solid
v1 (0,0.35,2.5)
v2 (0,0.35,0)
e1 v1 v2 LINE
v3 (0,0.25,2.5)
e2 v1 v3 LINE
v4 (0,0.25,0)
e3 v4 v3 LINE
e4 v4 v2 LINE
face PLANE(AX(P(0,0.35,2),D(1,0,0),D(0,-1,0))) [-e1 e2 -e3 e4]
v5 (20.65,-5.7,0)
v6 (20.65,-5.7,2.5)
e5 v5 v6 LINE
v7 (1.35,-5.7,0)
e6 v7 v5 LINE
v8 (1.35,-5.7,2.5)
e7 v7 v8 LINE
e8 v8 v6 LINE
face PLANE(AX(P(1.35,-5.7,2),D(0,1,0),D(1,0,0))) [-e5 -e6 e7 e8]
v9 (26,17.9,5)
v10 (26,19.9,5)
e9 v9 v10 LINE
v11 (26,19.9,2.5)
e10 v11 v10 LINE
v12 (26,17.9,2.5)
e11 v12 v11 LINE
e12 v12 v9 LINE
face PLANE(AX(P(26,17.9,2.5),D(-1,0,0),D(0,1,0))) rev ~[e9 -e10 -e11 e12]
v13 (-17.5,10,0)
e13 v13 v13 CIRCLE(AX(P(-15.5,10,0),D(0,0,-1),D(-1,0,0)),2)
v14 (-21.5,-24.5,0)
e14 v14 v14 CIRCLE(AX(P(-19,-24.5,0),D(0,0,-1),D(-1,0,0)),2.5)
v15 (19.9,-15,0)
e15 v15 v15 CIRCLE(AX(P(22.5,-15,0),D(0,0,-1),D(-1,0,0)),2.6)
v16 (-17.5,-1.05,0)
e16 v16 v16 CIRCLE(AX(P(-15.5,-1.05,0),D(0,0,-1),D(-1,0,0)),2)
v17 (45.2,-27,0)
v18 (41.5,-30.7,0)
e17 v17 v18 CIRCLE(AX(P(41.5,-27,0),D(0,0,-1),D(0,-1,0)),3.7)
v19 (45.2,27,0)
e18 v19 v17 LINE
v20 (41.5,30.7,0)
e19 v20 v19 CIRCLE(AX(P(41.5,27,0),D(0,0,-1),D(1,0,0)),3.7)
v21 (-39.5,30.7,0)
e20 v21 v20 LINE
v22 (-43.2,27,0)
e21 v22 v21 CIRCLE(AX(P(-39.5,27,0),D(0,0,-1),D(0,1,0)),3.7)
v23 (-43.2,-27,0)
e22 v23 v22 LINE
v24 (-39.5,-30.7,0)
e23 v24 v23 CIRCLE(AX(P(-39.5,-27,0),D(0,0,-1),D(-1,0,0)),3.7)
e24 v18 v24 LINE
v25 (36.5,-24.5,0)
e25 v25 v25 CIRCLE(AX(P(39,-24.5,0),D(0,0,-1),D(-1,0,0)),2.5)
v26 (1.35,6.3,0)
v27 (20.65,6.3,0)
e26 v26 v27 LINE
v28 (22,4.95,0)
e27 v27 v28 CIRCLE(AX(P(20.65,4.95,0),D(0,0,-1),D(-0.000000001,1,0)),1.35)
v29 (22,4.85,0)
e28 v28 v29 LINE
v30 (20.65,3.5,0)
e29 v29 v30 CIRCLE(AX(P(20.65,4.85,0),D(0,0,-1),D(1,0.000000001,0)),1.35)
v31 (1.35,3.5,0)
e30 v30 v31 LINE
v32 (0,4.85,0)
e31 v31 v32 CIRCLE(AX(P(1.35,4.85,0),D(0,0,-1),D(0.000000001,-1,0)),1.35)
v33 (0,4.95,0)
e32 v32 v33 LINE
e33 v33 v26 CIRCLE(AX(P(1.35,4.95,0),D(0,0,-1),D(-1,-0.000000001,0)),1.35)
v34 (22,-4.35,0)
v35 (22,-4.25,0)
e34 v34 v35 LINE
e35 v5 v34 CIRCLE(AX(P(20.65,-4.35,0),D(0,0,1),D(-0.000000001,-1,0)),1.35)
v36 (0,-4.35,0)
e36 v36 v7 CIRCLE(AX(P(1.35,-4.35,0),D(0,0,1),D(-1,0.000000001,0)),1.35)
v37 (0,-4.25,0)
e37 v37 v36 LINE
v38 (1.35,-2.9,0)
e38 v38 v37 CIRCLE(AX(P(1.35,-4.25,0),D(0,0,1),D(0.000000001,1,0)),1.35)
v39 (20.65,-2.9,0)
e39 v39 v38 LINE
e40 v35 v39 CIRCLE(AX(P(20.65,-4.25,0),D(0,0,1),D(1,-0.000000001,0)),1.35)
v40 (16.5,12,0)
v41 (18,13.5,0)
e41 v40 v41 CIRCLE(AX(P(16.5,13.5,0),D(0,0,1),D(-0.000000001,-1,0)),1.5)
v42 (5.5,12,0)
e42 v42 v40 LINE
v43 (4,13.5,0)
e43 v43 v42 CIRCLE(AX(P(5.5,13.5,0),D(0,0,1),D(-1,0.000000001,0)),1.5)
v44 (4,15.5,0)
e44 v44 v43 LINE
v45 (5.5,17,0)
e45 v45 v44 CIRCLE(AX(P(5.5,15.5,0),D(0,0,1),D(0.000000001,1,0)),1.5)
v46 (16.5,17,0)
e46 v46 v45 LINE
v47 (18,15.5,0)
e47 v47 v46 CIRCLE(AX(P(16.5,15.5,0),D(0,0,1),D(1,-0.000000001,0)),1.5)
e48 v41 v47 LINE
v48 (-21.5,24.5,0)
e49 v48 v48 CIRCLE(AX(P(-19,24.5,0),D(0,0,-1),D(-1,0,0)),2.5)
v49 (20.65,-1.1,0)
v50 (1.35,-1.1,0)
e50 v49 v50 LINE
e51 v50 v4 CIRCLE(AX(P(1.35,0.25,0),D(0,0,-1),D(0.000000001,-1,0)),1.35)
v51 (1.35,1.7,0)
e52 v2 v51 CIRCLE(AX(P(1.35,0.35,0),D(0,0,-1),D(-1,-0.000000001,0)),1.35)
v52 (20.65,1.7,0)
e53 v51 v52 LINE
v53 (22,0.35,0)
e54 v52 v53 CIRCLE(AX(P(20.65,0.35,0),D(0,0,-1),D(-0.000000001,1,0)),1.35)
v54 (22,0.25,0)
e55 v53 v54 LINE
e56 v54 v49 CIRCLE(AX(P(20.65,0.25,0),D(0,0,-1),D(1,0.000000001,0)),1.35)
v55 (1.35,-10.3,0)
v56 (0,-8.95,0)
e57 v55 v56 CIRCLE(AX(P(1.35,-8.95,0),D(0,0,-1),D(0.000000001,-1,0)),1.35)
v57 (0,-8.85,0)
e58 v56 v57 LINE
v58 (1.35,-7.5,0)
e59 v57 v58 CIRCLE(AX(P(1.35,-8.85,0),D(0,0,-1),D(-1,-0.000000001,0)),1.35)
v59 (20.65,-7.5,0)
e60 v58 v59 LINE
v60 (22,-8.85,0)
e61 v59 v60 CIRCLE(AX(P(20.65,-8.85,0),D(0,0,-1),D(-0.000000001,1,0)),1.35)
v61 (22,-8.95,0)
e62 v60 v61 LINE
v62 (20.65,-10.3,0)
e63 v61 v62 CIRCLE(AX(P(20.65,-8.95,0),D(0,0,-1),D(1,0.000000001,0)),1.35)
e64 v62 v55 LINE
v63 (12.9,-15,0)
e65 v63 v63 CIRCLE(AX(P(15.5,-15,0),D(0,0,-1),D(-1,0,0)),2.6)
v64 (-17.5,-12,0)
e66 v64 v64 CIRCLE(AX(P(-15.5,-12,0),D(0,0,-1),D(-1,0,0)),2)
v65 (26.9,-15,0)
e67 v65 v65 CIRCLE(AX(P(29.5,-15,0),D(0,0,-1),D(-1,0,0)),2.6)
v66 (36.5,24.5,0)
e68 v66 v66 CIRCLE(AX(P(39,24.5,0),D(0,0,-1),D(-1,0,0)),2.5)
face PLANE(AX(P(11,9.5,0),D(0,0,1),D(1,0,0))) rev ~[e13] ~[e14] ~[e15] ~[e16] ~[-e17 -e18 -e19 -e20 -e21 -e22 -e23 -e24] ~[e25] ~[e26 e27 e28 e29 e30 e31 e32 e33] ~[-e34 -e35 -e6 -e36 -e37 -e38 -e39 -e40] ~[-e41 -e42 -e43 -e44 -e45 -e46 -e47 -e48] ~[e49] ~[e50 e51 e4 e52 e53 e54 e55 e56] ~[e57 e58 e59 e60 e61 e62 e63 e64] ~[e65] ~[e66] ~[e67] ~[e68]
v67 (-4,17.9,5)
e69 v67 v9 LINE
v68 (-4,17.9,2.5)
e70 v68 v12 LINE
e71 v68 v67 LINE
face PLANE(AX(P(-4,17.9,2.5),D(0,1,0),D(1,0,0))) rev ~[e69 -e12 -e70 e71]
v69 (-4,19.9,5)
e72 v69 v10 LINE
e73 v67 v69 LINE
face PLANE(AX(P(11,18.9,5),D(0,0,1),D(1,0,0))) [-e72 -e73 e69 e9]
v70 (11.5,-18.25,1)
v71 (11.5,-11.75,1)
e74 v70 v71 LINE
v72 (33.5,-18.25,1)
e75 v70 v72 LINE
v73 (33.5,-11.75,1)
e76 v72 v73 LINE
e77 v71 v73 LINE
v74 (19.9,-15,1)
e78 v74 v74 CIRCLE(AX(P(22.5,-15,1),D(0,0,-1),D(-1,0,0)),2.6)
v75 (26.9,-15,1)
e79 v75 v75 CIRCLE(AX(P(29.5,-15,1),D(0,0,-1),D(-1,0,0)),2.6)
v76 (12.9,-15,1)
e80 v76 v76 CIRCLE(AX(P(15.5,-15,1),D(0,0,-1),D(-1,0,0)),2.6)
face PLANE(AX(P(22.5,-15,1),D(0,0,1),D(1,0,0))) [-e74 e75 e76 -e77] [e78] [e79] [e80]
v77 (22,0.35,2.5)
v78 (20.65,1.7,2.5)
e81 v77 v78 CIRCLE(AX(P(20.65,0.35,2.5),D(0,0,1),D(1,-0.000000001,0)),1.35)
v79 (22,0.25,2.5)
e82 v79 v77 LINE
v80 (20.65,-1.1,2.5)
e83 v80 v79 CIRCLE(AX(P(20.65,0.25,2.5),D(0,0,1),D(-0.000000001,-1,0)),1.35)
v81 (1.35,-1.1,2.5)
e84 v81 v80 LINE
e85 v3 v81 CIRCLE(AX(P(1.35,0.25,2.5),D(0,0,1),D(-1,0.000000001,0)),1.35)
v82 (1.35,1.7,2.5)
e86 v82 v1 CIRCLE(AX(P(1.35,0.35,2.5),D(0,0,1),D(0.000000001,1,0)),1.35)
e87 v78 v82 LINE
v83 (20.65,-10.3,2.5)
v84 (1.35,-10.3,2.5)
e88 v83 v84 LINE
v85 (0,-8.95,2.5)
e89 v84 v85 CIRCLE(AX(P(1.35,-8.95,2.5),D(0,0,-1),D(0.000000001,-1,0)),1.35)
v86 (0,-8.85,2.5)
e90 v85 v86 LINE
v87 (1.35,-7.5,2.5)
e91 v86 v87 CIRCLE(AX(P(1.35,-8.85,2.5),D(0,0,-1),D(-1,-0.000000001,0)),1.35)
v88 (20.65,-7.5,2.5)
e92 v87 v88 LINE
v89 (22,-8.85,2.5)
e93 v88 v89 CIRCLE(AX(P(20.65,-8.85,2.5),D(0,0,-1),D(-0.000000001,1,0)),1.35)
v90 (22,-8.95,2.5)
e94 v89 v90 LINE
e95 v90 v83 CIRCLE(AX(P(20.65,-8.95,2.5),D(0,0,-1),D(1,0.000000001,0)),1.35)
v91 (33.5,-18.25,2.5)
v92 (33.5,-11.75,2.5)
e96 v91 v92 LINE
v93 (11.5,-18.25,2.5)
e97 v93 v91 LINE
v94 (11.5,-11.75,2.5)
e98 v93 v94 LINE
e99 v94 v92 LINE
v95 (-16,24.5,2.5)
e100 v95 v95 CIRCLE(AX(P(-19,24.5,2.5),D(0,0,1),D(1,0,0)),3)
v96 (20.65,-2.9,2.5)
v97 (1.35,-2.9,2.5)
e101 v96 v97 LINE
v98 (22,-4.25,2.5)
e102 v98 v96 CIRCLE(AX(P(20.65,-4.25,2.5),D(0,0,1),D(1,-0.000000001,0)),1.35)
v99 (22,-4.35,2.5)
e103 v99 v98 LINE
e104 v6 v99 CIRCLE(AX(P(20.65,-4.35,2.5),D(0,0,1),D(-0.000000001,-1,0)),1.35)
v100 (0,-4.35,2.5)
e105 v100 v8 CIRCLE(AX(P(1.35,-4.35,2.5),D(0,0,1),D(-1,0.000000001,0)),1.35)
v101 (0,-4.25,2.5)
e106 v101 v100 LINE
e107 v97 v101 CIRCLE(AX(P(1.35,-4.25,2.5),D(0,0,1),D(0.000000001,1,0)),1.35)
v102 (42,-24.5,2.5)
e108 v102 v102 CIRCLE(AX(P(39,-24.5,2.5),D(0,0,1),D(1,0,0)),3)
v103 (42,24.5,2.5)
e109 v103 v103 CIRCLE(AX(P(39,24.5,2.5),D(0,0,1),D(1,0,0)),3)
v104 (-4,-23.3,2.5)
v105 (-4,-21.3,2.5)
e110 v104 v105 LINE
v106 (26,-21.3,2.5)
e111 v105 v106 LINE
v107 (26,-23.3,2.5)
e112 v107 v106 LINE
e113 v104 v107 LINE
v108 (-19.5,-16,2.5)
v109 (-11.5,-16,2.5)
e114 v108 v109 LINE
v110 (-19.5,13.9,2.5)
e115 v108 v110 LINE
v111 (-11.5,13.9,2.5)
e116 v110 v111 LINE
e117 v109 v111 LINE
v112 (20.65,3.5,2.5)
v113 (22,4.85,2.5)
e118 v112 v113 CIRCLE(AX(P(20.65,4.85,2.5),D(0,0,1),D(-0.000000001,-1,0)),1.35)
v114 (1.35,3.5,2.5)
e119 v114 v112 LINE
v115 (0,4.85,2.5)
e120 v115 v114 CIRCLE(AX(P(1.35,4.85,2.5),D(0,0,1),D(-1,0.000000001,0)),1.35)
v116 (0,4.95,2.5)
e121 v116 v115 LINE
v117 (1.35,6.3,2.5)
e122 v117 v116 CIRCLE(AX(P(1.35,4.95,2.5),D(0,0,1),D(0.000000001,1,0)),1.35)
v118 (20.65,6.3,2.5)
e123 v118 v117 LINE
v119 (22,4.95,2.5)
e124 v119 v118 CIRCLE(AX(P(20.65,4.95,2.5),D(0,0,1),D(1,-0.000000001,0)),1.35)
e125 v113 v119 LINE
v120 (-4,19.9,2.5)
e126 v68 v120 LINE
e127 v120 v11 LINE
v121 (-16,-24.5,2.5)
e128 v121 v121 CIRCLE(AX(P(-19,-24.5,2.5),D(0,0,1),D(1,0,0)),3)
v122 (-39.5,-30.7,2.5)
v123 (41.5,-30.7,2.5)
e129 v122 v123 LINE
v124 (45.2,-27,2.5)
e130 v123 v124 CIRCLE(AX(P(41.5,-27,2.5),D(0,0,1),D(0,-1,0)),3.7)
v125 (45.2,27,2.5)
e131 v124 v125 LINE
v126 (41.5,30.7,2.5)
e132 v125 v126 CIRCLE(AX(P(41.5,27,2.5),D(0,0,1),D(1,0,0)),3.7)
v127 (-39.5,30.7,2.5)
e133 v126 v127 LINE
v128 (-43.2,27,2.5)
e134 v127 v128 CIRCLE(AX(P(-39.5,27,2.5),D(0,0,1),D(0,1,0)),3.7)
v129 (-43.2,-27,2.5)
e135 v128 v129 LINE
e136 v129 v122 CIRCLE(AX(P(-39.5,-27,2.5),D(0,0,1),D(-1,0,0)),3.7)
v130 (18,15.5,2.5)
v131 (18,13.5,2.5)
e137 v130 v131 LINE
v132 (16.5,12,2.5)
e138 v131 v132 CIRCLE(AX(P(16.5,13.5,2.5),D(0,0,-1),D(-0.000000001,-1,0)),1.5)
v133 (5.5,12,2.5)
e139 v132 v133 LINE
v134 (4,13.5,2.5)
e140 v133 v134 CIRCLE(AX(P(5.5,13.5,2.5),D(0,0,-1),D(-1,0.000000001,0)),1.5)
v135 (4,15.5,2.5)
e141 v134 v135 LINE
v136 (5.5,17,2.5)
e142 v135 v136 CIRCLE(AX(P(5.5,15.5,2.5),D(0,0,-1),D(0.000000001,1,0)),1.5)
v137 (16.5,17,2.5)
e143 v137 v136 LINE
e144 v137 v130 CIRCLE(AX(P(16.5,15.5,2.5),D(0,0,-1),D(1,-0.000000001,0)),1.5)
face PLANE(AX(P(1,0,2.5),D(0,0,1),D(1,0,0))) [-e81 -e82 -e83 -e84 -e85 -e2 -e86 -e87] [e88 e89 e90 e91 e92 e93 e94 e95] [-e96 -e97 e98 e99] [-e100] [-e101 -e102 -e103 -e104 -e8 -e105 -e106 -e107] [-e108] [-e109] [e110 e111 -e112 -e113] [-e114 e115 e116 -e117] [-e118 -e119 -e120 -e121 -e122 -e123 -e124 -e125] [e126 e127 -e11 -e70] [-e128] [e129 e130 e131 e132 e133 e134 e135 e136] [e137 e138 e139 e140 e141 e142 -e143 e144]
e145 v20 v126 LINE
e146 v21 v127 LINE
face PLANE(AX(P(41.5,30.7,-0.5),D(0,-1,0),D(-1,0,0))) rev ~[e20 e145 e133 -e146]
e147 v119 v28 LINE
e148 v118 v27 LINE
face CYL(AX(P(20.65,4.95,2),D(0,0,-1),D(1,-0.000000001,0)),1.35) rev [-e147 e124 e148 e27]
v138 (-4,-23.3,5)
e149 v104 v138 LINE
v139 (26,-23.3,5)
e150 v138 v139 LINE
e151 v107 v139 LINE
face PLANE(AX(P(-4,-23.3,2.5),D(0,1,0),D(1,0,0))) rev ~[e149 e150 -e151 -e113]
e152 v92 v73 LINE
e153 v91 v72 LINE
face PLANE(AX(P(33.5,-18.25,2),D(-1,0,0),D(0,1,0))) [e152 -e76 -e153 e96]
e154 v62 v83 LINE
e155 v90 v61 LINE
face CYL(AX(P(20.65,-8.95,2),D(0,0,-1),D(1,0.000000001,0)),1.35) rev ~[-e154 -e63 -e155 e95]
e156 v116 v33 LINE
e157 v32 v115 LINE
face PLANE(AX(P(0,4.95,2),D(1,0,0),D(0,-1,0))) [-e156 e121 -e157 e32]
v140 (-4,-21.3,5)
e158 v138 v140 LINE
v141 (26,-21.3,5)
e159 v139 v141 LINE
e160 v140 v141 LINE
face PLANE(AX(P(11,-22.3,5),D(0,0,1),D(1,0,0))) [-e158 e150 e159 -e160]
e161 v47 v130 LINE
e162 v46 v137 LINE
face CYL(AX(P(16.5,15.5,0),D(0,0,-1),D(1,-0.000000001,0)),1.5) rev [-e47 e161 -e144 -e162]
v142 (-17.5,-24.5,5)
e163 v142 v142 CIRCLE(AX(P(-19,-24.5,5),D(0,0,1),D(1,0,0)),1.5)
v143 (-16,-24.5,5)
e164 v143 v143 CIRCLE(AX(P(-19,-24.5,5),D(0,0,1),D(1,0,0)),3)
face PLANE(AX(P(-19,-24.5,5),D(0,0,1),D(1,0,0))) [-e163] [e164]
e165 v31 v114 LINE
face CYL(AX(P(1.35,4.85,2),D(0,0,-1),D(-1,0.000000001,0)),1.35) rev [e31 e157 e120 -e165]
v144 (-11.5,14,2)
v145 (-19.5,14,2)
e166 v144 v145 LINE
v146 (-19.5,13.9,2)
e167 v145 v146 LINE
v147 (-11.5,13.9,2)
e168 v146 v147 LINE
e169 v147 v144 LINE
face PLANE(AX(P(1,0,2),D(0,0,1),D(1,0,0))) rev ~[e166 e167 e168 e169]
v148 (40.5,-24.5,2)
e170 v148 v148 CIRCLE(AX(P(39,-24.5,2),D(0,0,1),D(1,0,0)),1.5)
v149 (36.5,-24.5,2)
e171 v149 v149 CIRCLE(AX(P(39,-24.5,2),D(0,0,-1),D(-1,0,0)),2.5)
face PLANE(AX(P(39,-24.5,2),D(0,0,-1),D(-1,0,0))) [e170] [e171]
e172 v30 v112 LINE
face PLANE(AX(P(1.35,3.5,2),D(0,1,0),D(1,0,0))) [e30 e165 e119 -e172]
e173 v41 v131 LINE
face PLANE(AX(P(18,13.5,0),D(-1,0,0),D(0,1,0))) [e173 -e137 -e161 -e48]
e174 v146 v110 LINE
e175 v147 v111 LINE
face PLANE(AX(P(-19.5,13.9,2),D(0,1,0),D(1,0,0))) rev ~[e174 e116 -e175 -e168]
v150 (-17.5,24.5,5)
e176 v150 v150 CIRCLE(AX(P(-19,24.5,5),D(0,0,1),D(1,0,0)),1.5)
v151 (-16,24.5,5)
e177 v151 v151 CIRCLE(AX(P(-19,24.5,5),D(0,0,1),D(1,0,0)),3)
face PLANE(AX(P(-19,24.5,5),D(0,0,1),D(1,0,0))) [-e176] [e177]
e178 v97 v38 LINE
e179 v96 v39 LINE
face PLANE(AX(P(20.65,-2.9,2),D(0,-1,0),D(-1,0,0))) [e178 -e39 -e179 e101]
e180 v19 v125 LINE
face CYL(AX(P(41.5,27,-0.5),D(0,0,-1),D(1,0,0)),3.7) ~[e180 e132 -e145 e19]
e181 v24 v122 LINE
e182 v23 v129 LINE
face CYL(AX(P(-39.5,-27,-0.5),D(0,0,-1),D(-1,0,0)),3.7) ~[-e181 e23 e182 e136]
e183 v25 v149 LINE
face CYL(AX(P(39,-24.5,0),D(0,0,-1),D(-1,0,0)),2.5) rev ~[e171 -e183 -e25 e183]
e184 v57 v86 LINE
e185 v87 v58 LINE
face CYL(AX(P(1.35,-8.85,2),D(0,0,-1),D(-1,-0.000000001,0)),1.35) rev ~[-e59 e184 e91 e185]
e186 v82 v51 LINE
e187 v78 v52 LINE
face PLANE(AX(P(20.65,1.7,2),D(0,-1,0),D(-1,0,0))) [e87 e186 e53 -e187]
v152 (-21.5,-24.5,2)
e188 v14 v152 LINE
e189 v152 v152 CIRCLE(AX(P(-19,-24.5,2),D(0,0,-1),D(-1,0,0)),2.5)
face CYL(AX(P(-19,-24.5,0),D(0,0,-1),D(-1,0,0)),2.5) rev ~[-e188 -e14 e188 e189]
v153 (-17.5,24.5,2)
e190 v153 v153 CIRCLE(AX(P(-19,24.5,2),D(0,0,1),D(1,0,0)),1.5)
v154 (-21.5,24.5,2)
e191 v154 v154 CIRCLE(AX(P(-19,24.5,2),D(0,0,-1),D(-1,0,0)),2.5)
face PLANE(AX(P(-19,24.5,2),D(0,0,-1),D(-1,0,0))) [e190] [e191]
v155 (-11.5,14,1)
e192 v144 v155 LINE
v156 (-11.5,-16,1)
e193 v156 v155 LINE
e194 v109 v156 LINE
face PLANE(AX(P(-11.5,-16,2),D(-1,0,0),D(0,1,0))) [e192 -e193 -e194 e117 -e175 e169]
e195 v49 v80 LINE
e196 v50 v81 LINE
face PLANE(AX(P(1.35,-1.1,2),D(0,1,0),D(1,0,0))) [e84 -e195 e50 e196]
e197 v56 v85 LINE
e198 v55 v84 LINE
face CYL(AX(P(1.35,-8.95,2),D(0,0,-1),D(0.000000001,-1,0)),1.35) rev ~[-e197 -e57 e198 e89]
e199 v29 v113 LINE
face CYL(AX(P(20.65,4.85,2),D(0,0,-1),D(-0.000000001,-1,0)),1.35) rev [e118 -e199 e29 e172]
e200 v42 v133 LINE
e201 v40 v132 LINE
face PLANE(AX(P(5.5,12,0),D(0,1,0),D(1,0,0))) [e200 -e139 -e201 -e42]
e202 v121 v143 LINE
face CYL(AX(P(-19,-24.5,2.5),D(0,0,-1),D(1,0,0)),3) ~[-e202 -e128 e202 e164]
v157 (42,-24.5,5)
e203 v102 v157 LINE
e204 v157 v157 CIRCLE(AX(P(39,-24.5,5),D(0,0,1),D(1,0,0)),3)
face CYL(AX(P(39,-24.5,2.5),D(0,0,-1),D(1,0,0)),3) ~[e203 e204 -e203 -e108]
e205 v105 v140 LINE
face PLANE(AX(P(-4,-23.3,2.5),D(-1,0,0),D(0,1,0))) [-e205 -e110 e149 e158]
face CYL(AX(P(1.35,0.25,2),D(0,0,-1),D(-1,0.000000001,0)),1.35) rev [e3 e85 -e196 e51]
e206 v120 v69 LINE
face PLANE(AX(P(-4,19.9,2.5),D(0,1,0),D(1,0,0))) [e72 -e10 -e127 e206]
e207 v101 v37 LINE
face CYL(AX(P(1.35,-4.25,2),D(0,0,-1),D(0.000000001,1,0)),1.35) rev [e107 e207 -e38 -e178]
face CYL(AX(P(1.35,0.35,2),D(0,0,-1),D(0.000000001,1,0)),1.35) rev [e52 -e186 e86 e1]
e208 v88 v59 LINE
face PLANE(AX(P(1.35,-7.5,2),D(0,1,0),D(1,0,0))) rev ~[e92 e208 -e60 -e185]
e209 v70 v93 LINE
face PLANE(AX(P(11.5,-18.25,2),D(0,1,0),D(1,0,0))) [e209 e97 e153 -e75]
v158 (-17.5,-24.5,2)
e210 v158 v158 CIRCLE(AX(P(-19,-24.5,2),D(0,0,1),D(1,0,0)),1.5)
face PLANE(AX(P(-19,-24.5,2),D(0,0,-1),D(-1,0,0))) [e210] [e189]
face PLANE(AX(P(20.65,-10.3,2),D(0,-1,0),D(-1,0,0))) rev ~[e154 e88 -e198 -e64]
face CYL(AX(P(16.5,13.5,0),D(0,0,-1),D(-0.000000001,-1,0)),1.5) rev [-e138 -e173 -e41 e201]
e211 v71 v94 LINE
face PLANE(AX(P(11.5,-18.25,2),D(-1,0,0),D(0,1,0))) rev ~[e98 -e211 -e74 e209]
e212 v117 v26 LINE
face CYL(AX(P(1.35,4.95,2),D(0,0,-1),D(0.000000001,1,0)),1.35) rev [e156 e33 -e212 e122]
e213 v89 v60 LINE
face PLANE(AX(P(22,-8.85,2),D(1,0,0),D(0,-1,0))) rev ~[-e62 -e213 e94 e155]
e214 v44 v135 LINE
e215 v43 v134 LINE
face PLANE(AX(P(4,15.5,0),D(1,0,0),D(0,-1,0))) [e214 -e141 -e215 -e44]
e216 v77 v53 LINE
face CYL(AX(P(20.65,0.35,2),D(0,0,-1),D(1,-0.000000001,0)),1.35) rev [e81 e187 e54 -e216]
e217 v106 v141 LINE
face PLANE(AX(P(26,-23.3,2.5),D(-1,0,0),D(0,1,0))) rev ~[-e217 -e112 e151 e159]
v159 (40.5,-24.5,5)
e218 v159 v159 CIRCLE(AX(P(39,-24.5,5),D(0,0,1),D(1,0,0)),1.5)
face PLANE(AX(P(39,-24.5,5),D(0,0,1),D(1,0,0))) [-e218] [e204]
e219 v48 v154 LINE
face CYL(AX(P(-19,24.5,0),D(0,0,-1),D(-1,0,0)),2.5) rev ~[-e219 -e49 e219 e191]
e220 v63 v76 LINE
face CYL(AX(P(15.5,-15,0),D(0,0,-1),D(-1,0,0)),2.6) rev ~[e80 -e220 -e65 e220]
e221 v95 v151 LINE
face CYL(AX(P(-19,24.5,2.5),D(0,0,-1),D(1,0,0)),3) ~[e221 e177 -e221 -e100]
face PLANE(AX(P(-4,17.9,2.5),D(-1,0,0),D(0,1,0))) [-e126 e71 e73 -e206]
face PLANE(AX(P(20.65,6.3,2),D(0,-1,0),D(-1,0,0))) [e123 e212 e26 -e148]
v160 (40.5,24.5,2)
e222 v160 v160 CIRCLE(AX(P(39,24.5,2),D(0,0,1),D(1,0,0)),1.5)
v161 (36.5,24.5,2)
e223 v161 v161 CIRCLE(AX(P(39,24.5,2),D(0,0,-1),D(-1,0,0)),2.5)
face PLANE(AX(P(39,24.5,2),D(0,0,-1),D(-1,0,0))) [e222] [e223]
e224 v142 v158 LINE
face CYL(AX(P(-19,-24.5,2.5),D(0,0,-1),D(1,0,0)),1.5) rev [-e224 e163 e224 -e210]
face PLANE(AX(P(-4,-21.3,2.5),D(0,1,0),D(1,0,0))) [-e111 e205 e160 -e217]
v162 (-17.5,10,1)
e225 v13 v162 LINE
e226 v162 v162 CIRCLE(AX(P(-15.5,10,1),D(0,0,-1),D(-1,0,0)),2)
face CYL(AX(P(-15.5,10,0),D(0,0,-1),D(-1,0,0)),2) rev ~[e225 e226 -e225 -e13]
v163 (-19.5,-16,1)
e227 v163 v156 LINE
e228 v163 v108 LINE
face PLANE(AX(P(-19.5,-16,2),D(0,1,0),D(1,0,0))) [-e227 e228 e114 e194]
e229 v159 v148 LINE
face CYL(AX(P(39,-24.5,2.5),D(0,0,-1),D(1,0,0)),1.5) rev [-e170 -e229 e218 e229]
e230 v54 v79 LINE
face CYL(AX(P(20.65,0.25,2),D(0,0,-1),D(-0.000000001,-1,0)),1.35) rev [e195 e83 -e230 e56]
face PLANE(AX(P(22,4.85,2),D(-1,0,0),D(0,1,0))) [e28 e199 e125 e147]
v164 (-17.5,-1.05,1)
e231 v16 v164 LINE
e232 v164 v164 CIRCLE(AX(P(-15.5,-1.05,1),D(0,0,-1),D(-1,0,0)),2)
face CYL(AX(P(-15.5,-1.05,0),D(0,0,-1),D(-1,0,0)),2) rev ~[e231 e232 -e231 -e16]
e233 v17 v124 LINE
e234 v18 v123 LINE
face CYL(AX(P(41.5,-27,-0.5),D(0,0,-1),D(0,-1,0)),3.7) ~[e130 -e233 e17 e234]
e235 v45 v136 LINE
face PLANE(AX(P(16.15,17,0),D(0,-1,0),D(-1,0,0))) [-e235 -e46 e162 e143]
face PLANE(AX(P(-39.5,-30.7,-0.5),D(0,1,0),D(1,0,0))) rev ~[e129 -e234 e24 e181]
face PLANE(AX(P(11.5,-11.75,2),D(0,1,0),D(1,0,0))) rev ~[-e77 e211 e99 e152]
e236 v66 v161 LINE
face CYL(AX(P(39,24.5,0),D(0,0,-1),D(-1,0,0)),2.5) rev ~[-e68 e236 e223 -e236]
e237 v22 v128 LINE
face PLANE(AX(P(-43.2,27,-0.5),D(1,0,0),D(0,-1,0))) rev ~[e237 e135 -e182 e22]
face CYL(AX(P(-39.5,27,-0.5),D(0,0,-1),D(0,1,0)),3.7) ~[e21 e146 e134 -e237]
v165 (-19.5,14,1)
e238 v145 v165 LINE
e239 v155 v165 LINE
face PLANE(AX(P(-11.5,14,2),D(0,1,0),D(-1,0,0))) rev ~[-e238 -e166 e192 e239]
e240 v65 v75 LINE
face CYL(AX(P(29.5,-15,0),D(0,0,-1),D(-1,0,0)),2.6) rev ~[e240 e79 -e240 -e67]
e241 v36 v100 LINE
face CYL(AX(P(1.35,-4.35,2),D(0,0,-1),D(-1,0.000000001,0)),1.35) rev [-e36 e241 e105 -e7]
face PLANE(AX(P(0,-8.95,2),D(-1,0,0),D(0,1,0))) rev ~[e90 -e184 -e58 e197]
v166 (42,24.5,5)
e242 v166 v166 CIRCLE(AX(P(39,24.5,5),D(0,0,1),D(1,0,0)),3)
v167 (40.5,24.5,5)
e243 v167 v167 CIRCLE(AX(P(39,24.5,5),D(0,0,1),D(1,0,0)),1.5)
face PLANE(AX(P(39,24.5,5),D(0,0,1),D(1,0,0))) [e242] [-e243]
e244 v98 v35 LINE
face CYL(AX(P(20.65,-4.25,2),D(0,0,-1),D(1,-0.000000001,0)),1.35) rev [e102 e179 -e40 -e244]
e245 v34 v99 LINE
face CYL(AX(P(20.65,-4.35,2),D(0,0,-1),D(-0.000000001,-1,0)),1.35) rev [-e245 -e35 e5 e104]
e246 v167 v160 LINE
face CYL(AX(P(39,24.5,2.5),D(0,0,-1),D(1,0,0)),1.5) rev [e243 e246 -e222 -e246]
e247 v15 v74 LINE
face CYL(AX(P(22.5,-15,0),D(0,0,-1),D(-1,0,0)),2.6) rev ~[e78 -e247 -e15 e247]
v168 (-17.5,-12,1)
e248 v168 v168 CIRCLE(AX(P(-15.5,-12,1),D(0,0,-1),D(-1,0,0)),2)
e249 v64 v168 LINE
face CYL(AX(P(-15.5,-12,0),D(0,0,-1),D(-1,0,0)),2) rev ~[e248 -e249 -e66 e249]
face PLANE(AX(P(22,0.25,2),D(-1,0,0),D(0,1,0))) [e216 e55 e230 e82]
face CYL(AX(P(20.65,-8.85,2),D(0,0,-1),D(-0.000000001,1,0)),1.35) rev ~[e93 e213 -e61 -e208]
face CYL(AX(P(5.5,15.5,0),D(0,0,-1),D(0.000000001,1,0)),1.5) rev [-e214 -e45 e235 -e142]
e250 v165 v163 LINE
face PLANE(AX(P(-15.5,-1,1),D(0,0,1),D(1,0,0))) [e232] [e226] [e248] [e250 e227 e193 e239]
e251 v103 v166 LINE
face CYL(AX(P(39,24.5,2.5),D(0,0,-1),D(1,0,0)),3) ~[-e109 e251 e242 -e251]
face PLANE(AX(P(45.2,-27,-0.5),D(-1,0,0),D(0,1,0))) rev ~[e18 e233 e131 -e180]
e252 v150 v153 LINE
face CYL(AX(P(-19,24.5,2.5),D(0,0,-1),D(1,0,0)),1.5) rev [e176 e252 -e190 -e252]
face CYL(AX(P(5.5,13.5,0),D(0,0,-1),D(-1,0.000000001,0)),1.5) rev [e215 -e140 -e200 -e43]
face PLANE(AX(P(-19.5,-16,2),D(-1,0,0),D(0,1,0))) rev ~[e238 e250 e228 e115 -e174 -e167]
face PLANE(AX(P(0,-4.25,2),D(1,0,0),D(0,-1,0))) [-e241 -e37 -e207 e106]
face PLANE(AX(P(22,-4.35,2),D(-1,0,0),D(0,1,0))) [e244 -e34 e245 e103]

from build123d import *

# Parameters (mm, degrees)
EXTRUDE_1_DEPTH      = 2
SKETCH_2_R           = 1.5
CUT_EXTRUDE_1_DEPTH  = 55.260206413
EXTRUDE_START        = -2
EXTRUDE_2_DEPTH      = 2
SKETCH_4_R           = 2
SKETCH_4_R_2         = 2.6
CUT_EXTRUDE_2_DEPTH  = 56.093103017
CUT_EXTRUDE_5_DEPTH  = 56.093103017
SKETCH_6_W           = 8
SKETCH_6_H           = 30
SKETCH_6_W_2         = 22
SKETCH_6_H_2         = 6.5
CUT_EXTRUDE_6_DEPTH  = 1
SKETCH_11_R          = 1.5
SKETCH_11_W          = 8
SKETCH_11_H          = 29.9
SKETCH_11_W_2        = 22
SKETCH_11_H_2        = 6.5
EXTRUDE_4_DEPTH      = 0.5
CUT_EXTRUDE_START    = -3
CUT_EXTRUDE_8_DEPTH  = 3
SKETCH_13_R          = 3
SKETCH_13_R_2        = 1.5
EXTRUDE_5_DEPTH      = 2.5
SKETCH_14_R          = 2.5
CUT_EXTRUDE_9_DEPTH  = 2
SKETCH_15_W          = 30
SKETCH_15_H          = 2
EXTRUDE_7_DEPTH      = 2.5
EXTRUDE_8_DEPTH      = 2.5
CUT_EXTRUDE_10_DEPTH = 2.5
CUT_EXTRUDE_11_DEPTH = 10


with BuildPart() as part:
    # 스케치1 → 보스-돌출1 (new body)
    with BuildSketch(Plane.XY):
        with BuildLine():
            Line((44.9, -27), (44.9, 27))
            ThreePointArc((44.9, 27), (43.904163056, 29.404163056), (41.5, 30.4))
            Line((41.5, 30.4), (-39.5, 30.4))
            ThreePointArc((-39.5, 30.4), (-41.904163056, 29.404163056), (-42.9, 27))
            Line((-42.9, 27), (-42.9, -27))
            ThreePointArc((-42.9, -27), (-41.904163056, -29.404163056), (-39.5, -30.4))
            Line((-39.5, -30.4), (41.5, -30.4))
            ThreePointArc((41.5, -30.4), (43.904163056, -29.404163056), (44.9, -27))
        make_face()
    extrude(amount=EXTRUDE_1_DEPTH)

    # 스케치2 → 컷-돌출1 (cut, through all)
    with BuildSketch(Plane.XY.offset(2)):
        with Locations((39, 24.5)):
            Circle(SKETCH_2_R)
        with Locations((-19, -24.5)):
            Circle(SKETCH_2_R)
        with Locations((-19, 24.5)):
            Circle(SKETCH_2_R)
        with Locations((39, -24.5)):
            Circle(SKETCH_2_R)
    extrude(amount=-CUT_EXTRUDE_1_DEPTH, mode=Mode.SUBTRACT)

    # 스케치3 → 보스-돌출2 (add)
    with BuildSketch(Plane.XY.offset(2).offset(EXTRUDE_START)):
        with BuildLine():
            Line((45.5, -27), (45.5, 27))
            ThreePointArc((45.5, 27), (44.328427125, 29.828427125), (41.5, 31))
            Line((41.5, 31), (-39.5, 31))
            ThreePointArc((-39.5, 31), (-42.328427125, 29.828427125), (-43.5, 27))
            Line((-43.5, 27), (-43.5, -27))
            ThreePointArc((-43.5, -27), (-42.328427125, -29.828427125), (-39.5, -31))
            Line((-39.5, -31), (41.5, -31))
            ThreePointArc((41.5, -31), (44.328427125, -29.828427125), (45.5, -27))
        make_face()
        with BuildLine():
            Line((44.9, -27), (44.9, 27))
            ThreePointArc((44.9, 27), (43.904163056, 29.404163056), (41.5, 30.4))
            Line((41.5, 30.4), (-39.5, 30.4))
            ThreePointArc((-39.5, 30.4), (-41.904163056, 29.404163056), (-42.9, 27))
            Line((-42.9, 27), (-42.9, -27))
            ThreePointArc((-42.9, -27), (-41.904163056, -29.404163056), (-39.5, -30.4))
            Line((-39.5, -30.4), (41.5, -30.4))
            ThreePointArc((41.5, -30.4), (43.904163056, -29.404163056), (44.9, -27))
        make_face(mode=Mode.SUBTRACT)
    extrude(amount=EXTRUDE_2_DEPTH)

    # 스케치4 → 컷-돌출2 (cut, through all)
    with BuildSketch(Plane(origin=(0, 0, 0), x_dir=(-1, 0, 0), z_dir=(0, 0, -1))):
        with Locations((15.5, 10)):
            Circle(SKETCH_4_R)
        with Locations((15.5, -1.05)):
            Circle(SKETCH_4_R)
        with Locations((15.5, -12)):
            Circle(SKETCH_4_R)
        with Locations((-15.5, -15)):
            Circle(SKETCH_4_R_2)
        with Locations((-29.5, -15)):
            Circle(SKETCH_4_R_2)
        with Locations((-22.5, -15)):
            Circle(SKETCH_4_R_2)
    extrude(amount=-CUT_EXTRUDE_2_DEPTH, mode=Mode.SUBTRACT)

    # 스케치5 → 컷-돌출5 (cut, through all)
    with BuildSketch(Plane(origin=(0, 0, 0), x_dir=(-1, 0, 0), z_dir=(0, 0, -1))):
        with BuildLine():
            Line((0, -8.95), (0, -8.85))
            ThreePointArc((0, -8.85), (-0.395405845, -7.895405845), (-1.35, -7.5))
            Line((-1.35, -7.5), (-20.65, -7.5))
            ThreePointArc((-20.65, -7.5), (-21.604594155, -7.895405845), (-22, -8.85))
            Line((-22, -8.85), (-22, -8.95))
            ThreePointArc((-22, -8.95), (-21.604594155, -9.904594155), (-20.65, -10.3))
            Line((-20.65, -10.3), (-1.35, -10.3))
            ThreePointArc((-1.35, -10.3), (-0.395405845, -9.904594155), (0, -8.95))
        make_face()
        with BuildLine():
            Line((-1.35, -5.7), (-20.65, -5.7))
            ThreePointArc((-20.65, -5.7), (-21.604594155, -5.304594155), (-22, -4.35))
            Line((-22, -4.35), (-22, -4.25))
            ThreePointArc((-22, -4.25), (-21.604594155, -3.295405845), (-20.65, -2.9))
            Line((-20.65, -2.9), (-1.35, -2.9))
            ThreePointArc((-1.35, -2.9), (-0.395405845, -3.295405845), (0, -4.25))
            Line((0, -4.25), (0, -4.35))
            ThreePointArc((0, -4.35), (-0.395405845, -5.304594155), (-1.35, -5.7))
        make_face()
        with BuildLine():
            Line((0, 0.25), (0, 0.35))
            ThreePointArc((0, 0.35), (-0.395405845, 1.304594155), (-1.35, 1.7))
            Line((-1.35, 1.7), (-20.65, 1.7))
            ThreePointArc((-20.65, 1.7), (-21.604594155, 1.304594155), (-22, 0.35))
            Line((-22, 0.35), (-22, 0.25))
            ThreePointArc((-22, 0.25), (-21.604594155, -0.704594155), (-20.65, -1.1))
            Line((-20.65, -1.1), (-1.35, -1.1))
            ThreePointArc((-1.35, -1.1), (-0.395405845, -0.704594155), (0, 0.25))
        make_face()
        with BuildLine():
            Line((0, 4.85), (0, 4.95))
            ThreePointArc((0, 4.95), (-0.395405845, 5.904594155), (-1.35, 6.3))
            Line((-1.35, 6.3), (-20.65, 6.3))
            ThreePointArc((-20.65, 6.3), (-21.604594155, 5.904594155), (-22, 4.95))
            Line((-22, 4.95), (-22, 4.85))
            ThreePointArc((-22, 4.85), (-21.604594155, 3.895405845), (-20.65, 3.5))
            Line((-20.65, 3.5), (-1.35, 3.5))
            ThreePointArc((-1.35, 3.5), (-0.395405845, 3.895405845), (0, 4.85))
        make_face()
        with BuildLine():
            Line((0, 9.45), (0, 9.55))
            ThreePointArc((0, 9.55), (-0.395405845, 10.504594155), (-1.35, 10.9))
            Line((-1.35, 10.9), (-20.65, 10.9))
            ThreePointArc((-20.65, 10.9), (-21.604594155, 10.504594155), (-22, 9.55))
            Line((-22, 9.55), (-22, 9.45))
            ThreePointArc((-22, 9.45), (-21.604594155, 8.495405845), (-20.65, 8.1))
            Line((-20.65, 8.1), (-1.35, 8.1))
            ThreePointArc((-1.35, 8.1), (-0.395405845, 8.495405845), (0, 9.45))
        make_face()
    extrude(amount=-CUT_EXTRUDE_5_DEPTH, mode=Mode.SUBTRACT)

    # 스케치6 → 컷-돌출6 (cut)
    with BuildSketch(Plane.XY.offset(2)):
        with Locations((-15.5, -1)):
            Rectangle(SKETCH_6_W, SKETCH_6_H)
        with Locations((22.5, -15)):
            Rectangle(SKETCH_6_W_2, SKETCH_6_H_2)
    extrude(amount=-CUT_EXTRUDE_6_DEPTH, mode=Mode.SUBTRACT)

    # 스케치11 → 보스-돌출4 (add)
    with BuildSketch(Plane.XY.offset(2)):
        with BuildLine():
            ThreePointArc((41.5, -31), (44.328427125, -29.828427125), (45.5, -27))
            Line((45.5, -27), (45.5, 27))
            ThreePointArc((45.5, 27), (44.328427125, 29.828427125), (41.5, 31))
            Line((41.5, 31), (-39.5, 31))
            ThreePointArc((-39.5, 31), (-42.328427125, 29.828427125), (-43.5, 27))
            Line((-43.5, 27), (-43.5, -27))
            ThreePointArc((-43.5, -27), (-42.328427125, -29.828427125), (-39.5, -31))
            Line((-39.5, -31), (41.5, -31))
        make_face()
        with Locations((-19, -24.5)):
            Circle(SKETCH_11_R, mode=Mode.SUBTRACT)
        with Locations((-15.5, -1.05)):
            Rectangle(SKETCH_11_W, SKETCH_11_H, mode=Mode.SUBTRACT)
        with Locations((39, -24.5)):
            Circle(SKETCH_11_R, mode=Mode.SUBTRACT)
        with BuildLine():
            ThreePointArc((22, -8.95), (21.604594155, -9.904594155), (20.65, -10.3))
            Line((20.65, -10.3), (1.35, -10.3))
            ThreePointArc((1.35, -10.3), (0.395405845, -9.904594155), (0, -8.95))
            Line((0, -8.95), (0, -8.85))
            ThreePointArc((0, -8.85), (0.395405845, -7.895405845), (1.35, -7.5))
            Line((1.35, -7.5), (20.65, -7.5))
            ThreePointArc((20.65, -7.5), (21.604594155, -7.895405845), (22, -8.85))
            Line((22, -8.85), (22, -8.95))
        make_face(mode=Mode.SUBTRACT)
        with Locations((22.5, -15)):
            Rectangle(SKETCH_11_W_2, SKETCH_11_H_2, mode=Mode.SUBTRACT)
        with BuildLine():
            Line((22, -4.25), (22, -4.35))
            ThreePointArc((22, -4.35), (21.604594155, -5.304594155), (20.65, -5.7))
            Line((20.65, -5.7), (1.35, -5.7))
            ThreePointArc((1.35, -5.7), (0.395405845, -5.304594155), (0, -4.35))
            Line((0, -4.35), (0, -4.25))
            ThreePointArc((0, -4.25), (0.395405845, -3.295405845), (1.35, -2.9))
            Line((1.35, -2.9), (20.65, -2.9))
            ThreePointArc((20.65, -2.9), (21.604594155, -3.295405845), (22, -4.25))
        make_face(mode=Mode.SUBTRACT)
        with Locations((-19, 24.5)):
            Circle(SKETCH_11_R, mode=Mode.SUBTRACT)
        with BuildLine():
            Line((22, 0.35), (22, 0.25))
            ThreePointArc((22, 0.25), (21.604594155, -0.704594155), (20.65, -1.1))
            Line((20.65, -1.1), (1.35, -1.1))
            ThreePointArc((1.35, -1.1), (0.395405845, -0.704594155), (0, 0.25))
            Line((0, 0.25), (0, 0.35))
            ThreePointArc((0, 0.35), (0.395405845, 1.304594155), (1.35, 1.7))
            Line((1.35, 1.7), (20.65, 1.7))
            ThreePointArc((20.65, 1.7), (21.604594155, 1.304594155), (22, 0.35))
        make_face(mode=Mode.SUBTRACT)
        with BuildLine():
            Line((22, 4.95), (22, 4.85))
            ThreePointArc((22, 4.85), (21.604594155, 3.895405845), (20.65, 3.5))
            Line((20.65, 3.5), (1.35, 3.5))
            ThreePointArc((1.35, 3.5), (0.395405845, 3.895405845), (0, 4.85))
            Line((0, 4.85), (0, 4.95))
            ThreePointArc((0, 4.95), (0.395405845, 5.904594155), (1.35, 6.3))
            Line((1.35, 6.3), (20.65, 6.3))
            ThreePointArc((20.65, 6.3), (21.604594155, 5.904594155), (22, 4.95))
        make_face(mode=Mode.SUBTRACT)
        with BuildLine():
            Line((22, 9.55), (22, 9.45))
            ThreePointArc((22, 9.45), (21.604594155, 8.495405845), (20.65, 8.1))
            Line((20.65, 8.1), (1.35, 8.1))
            ThreePointArc((1.35, 8.1), (0.395405845, 8.495405845), (0, 9.45))
            Line((0, 9.45), (0, 9.55))
            ThreePointArc((0, 9.55), (0.395405845, 10.504594155), (1.35, 10.9))
            Line((1.35, 10.9), (20.65, 10.9))
            ThreePointArc((20.65, 10.9), (21.604594155, 10.504594155), (22, 9.55))
        make_face(mode=Mode.SUBTRACT)
        with Locations((39, 24.5)):
            Circle(SKETCH_11_R, mode=Mode.SUBTRACT)
    extrude(amount=EXTRUDE_4_DEPTH)

    # 스케치12 → 컷-돌출8 (cut)
    with BuildSketch(Plane.XY.offset(2.5).offset(CUT_EXTRUDE_START)):
        with BuildLine():
            Line((-43.5, 27), (-43.5, -27))
            ThreePointArc((-43.5, -27), (-42.328427125, -29.828427125), (-39.5, -31))
            Line((-39.5, -31), (41.5, -31))
            ThreePointArc((41.5, -31), (44.328427125, -29.828427125), (45.5, -27))
            Line((45.5, -27), (45.5, 27))
            ThreePointArc((45.5, 27), (44.328427125, 29.828427125), (41.5, 31))
            Line((41.5, 31), (-39.5, 31))
            ThreePointArc((-39.5, 31), (-42.328427125, 29.828427125), (-43.5, 27))
        make_face()
        with BuildLine():
            Line((-43.2, 27), (-43.2, -27))
            ThreePointArc((-43.2, -27), (-42.11629509, -29.61629509), (-39.5, -30.7))
            Line((-39.5, -30.7), (41.5, -30.7))
            ThreePointArc((41.5, -30.7), (44.11629509, -29.61629509), (45.2, -27))
            Line((45.2, -27), (45.2, 27))
            ThreePointArc((45.2, 27), (44.11629509, 29.61629509), (41.5, 30.7))
            Line((41.5, 30.7), (-39.5, 30.7))
            ThreePointArc((-39.5, 30.7), (-42.11629509, 29.61629509), (-43.2, 27))
        make_face(mode=Mode.SUBTRACT)
    extrude(amount=CUT_EXTRUDE_8_DEPTH, mode=Mode.SUBTRACT)

    # 스케치13 → 보스-돌출5 (add)
    # profile 1 of 4: a face of its own
    with BuildSketch(Plane.XY.offset(2.5)):
        with Locations((-19, 24.5)):
            Circle(SKETCH_13_R)
        with Locations((-19, 24.5)):
            Circle(SKETCH_13_R_2, mode=Mode.SUBTRACT)
    # profile 2 of 4: a face of its own
    with BuildSketch(Plane.XY.offset(2.5)):
        with Locations((39, 24.5)):
            Circle(SKETCH_13_R)
        with Locations((39, 24.5)):
            Circle(SKETCH_13_R_2, mode=Mode.SUBTRACT)
    # profile 3 of 4: a face of its own
    with BuildSketch(Plane.XY.offset(2.5)):
        with Locations((39, -24.5)):
            Circle(SKETCH_13_R)
        with Locations((39, -24.5)):
            Circle(SKETCH_13_R_2, mode=Mode.SUBTRACT)
    # profile 4 of 4: a face of its own
    with BuildSketch(Plane.XY.offset(2.5)):
        with Locations((-19, -24.5)):
            Circle(SKETCH_13_R)
        with Locations((-19, -24.5)):
            Circle(SKETCH_13_R_2, mode=Mode.SUBTRACT)
    extrude(amount=EXTRUDE_5_DEPTH)

    # 스케치14 → 컷-돌출9 (cut)
    with BuildSketch(Plane(origin=(0, 0, 0), x_dir=(-1, 0, 0), z_dir=(0, 0, -1))):
        with Locations((-39, 24.5)):
            Circle(SKETCH_14_R)
        with Locations((19, 24.5)):
            Circle(SKETCH_14_R)
        with Locations((19, -24.5)):
            Circle(SKETCH_14_R)
        with Locations((-39, -24.5)):
            Circle(SKETCH_14_R)
    extrude(amount=-CUT_EXTRUDE_9_DEPTH, mode=Mode.SUBTRACT)

    # 스케치15 → 보스-돌출7 (add)
    with BuildSketch(Plane.XY.offset(2.5)):
        with Locations((11, 18.9)):
            Rectangle(SKETCH_15_W, SKETCH_15_H)
        with Locations((11, -22.3)):
            Rectangle(SKETCH_15_W, SKETCH_15_H)
    extrude(amount=EXTRUDE_7_DEPTH)

    # 스케치16 → 보스-돌출8 (add)
    with BuildSketch(Plane(origin=(0, 0, 0), x_dir=(-1, 0, 0), z_dir=(0, 0, -1))):
        with BuildLine():
            Line((-1.35, 8.1), (-20.65, 8.1))
            ThreePointArc((-20.65, 8.1), (-21.604594155, 8.495405845), (-22, 9.45))
            Line((-22, 9.45), (-22, 9.55))
            ThreePointArc((-22, 9.55), (-21.604594155, 10.504594155), (-20.65, 10.9))
            Line((-20.65, 10.9), (-1.35, 10.9))
            ThreePointArc((-1.35, 10.9), (-0.395405845, 10.504594155), (0, 9.55))
            Line((0, 9.55), (0, 9.45))
            ThreePointArc((0, 9.45), (-0.395405845, 8.495405845), (-1.35, 8.1))
        make_face()
    extrude(amount=-EXTRUDE_8_DEPTH)

    # 스케치17 → 컷-돌출10 (cut)
    with BuildSketch(Plane(origin=(0, 0, 0), x_dir=(-1, 0, 0), z_dir=(0, 0, -1))):
        with BuildLine():
            Line((-5.85, 17), (-16.15, 17))
            ThreePointArc((-16.15, 17), (-17.104594155, 16.604594155), (-17.5, 15.65))
            Line((-17.5, 15.65), (-17.5, 13.85))
            ThreePointArc((-17.5, 13.85), (-17.104594155, 12.895405845), (-16.15, 12.5))
            Line((-16.15, 12.5), (-5.85, 12.5))
            ThreePointArc((-5.85, 12.5), (-4.895405845, 12.895405845), (-4.5, 13.85))
            Line((-4.5, 13.85), (-4.5, 15.65))
            ThreePointArc((-4.5, 15.65), (-4.895405845, 16.604594155), (-5.85, 17))
        make_face()
    extrude(amount=-CUT_EXTRUDE_10_DEPTH, mode=Mode.SUBTRACT)

    # 스케치18 → 컷-돌출11 (cut)
    with BuildSketch(Plane(origin=(0, 0, 0), x_dir=(-1, 0, 0), z_dir=(0, 0, -1))):
        with BuildLine():
            Line((-16.5, 17), (-5.5, 17))
            ThreePointArc((-5.5, 17), (-4.439339828, 16.560660172), (-4, 15.5))
            Line((-4, 15.5), (-4, 13.5))
            ThreePointArc((-4, 13.5), (-4.439339828, 12.439339828), (-5.5, 12))
            Line((-5.5, 12), (-16.5, 12))
            ThreePointArc((-16.5, 12), (-17.560660172, 12.439339828), (-18, 13.5))
            Line((-18, 13.5), (-18, 15.5))
            ThreePointArc((-18, 15.5), (-17.560660172, 16.560660172), (-16.5, 17))
        make_face()
    extrude(amount=-CUT_EXTRUDE_11_DEPTH, mode=Mode.SUBTRACT)


solid = part.part
